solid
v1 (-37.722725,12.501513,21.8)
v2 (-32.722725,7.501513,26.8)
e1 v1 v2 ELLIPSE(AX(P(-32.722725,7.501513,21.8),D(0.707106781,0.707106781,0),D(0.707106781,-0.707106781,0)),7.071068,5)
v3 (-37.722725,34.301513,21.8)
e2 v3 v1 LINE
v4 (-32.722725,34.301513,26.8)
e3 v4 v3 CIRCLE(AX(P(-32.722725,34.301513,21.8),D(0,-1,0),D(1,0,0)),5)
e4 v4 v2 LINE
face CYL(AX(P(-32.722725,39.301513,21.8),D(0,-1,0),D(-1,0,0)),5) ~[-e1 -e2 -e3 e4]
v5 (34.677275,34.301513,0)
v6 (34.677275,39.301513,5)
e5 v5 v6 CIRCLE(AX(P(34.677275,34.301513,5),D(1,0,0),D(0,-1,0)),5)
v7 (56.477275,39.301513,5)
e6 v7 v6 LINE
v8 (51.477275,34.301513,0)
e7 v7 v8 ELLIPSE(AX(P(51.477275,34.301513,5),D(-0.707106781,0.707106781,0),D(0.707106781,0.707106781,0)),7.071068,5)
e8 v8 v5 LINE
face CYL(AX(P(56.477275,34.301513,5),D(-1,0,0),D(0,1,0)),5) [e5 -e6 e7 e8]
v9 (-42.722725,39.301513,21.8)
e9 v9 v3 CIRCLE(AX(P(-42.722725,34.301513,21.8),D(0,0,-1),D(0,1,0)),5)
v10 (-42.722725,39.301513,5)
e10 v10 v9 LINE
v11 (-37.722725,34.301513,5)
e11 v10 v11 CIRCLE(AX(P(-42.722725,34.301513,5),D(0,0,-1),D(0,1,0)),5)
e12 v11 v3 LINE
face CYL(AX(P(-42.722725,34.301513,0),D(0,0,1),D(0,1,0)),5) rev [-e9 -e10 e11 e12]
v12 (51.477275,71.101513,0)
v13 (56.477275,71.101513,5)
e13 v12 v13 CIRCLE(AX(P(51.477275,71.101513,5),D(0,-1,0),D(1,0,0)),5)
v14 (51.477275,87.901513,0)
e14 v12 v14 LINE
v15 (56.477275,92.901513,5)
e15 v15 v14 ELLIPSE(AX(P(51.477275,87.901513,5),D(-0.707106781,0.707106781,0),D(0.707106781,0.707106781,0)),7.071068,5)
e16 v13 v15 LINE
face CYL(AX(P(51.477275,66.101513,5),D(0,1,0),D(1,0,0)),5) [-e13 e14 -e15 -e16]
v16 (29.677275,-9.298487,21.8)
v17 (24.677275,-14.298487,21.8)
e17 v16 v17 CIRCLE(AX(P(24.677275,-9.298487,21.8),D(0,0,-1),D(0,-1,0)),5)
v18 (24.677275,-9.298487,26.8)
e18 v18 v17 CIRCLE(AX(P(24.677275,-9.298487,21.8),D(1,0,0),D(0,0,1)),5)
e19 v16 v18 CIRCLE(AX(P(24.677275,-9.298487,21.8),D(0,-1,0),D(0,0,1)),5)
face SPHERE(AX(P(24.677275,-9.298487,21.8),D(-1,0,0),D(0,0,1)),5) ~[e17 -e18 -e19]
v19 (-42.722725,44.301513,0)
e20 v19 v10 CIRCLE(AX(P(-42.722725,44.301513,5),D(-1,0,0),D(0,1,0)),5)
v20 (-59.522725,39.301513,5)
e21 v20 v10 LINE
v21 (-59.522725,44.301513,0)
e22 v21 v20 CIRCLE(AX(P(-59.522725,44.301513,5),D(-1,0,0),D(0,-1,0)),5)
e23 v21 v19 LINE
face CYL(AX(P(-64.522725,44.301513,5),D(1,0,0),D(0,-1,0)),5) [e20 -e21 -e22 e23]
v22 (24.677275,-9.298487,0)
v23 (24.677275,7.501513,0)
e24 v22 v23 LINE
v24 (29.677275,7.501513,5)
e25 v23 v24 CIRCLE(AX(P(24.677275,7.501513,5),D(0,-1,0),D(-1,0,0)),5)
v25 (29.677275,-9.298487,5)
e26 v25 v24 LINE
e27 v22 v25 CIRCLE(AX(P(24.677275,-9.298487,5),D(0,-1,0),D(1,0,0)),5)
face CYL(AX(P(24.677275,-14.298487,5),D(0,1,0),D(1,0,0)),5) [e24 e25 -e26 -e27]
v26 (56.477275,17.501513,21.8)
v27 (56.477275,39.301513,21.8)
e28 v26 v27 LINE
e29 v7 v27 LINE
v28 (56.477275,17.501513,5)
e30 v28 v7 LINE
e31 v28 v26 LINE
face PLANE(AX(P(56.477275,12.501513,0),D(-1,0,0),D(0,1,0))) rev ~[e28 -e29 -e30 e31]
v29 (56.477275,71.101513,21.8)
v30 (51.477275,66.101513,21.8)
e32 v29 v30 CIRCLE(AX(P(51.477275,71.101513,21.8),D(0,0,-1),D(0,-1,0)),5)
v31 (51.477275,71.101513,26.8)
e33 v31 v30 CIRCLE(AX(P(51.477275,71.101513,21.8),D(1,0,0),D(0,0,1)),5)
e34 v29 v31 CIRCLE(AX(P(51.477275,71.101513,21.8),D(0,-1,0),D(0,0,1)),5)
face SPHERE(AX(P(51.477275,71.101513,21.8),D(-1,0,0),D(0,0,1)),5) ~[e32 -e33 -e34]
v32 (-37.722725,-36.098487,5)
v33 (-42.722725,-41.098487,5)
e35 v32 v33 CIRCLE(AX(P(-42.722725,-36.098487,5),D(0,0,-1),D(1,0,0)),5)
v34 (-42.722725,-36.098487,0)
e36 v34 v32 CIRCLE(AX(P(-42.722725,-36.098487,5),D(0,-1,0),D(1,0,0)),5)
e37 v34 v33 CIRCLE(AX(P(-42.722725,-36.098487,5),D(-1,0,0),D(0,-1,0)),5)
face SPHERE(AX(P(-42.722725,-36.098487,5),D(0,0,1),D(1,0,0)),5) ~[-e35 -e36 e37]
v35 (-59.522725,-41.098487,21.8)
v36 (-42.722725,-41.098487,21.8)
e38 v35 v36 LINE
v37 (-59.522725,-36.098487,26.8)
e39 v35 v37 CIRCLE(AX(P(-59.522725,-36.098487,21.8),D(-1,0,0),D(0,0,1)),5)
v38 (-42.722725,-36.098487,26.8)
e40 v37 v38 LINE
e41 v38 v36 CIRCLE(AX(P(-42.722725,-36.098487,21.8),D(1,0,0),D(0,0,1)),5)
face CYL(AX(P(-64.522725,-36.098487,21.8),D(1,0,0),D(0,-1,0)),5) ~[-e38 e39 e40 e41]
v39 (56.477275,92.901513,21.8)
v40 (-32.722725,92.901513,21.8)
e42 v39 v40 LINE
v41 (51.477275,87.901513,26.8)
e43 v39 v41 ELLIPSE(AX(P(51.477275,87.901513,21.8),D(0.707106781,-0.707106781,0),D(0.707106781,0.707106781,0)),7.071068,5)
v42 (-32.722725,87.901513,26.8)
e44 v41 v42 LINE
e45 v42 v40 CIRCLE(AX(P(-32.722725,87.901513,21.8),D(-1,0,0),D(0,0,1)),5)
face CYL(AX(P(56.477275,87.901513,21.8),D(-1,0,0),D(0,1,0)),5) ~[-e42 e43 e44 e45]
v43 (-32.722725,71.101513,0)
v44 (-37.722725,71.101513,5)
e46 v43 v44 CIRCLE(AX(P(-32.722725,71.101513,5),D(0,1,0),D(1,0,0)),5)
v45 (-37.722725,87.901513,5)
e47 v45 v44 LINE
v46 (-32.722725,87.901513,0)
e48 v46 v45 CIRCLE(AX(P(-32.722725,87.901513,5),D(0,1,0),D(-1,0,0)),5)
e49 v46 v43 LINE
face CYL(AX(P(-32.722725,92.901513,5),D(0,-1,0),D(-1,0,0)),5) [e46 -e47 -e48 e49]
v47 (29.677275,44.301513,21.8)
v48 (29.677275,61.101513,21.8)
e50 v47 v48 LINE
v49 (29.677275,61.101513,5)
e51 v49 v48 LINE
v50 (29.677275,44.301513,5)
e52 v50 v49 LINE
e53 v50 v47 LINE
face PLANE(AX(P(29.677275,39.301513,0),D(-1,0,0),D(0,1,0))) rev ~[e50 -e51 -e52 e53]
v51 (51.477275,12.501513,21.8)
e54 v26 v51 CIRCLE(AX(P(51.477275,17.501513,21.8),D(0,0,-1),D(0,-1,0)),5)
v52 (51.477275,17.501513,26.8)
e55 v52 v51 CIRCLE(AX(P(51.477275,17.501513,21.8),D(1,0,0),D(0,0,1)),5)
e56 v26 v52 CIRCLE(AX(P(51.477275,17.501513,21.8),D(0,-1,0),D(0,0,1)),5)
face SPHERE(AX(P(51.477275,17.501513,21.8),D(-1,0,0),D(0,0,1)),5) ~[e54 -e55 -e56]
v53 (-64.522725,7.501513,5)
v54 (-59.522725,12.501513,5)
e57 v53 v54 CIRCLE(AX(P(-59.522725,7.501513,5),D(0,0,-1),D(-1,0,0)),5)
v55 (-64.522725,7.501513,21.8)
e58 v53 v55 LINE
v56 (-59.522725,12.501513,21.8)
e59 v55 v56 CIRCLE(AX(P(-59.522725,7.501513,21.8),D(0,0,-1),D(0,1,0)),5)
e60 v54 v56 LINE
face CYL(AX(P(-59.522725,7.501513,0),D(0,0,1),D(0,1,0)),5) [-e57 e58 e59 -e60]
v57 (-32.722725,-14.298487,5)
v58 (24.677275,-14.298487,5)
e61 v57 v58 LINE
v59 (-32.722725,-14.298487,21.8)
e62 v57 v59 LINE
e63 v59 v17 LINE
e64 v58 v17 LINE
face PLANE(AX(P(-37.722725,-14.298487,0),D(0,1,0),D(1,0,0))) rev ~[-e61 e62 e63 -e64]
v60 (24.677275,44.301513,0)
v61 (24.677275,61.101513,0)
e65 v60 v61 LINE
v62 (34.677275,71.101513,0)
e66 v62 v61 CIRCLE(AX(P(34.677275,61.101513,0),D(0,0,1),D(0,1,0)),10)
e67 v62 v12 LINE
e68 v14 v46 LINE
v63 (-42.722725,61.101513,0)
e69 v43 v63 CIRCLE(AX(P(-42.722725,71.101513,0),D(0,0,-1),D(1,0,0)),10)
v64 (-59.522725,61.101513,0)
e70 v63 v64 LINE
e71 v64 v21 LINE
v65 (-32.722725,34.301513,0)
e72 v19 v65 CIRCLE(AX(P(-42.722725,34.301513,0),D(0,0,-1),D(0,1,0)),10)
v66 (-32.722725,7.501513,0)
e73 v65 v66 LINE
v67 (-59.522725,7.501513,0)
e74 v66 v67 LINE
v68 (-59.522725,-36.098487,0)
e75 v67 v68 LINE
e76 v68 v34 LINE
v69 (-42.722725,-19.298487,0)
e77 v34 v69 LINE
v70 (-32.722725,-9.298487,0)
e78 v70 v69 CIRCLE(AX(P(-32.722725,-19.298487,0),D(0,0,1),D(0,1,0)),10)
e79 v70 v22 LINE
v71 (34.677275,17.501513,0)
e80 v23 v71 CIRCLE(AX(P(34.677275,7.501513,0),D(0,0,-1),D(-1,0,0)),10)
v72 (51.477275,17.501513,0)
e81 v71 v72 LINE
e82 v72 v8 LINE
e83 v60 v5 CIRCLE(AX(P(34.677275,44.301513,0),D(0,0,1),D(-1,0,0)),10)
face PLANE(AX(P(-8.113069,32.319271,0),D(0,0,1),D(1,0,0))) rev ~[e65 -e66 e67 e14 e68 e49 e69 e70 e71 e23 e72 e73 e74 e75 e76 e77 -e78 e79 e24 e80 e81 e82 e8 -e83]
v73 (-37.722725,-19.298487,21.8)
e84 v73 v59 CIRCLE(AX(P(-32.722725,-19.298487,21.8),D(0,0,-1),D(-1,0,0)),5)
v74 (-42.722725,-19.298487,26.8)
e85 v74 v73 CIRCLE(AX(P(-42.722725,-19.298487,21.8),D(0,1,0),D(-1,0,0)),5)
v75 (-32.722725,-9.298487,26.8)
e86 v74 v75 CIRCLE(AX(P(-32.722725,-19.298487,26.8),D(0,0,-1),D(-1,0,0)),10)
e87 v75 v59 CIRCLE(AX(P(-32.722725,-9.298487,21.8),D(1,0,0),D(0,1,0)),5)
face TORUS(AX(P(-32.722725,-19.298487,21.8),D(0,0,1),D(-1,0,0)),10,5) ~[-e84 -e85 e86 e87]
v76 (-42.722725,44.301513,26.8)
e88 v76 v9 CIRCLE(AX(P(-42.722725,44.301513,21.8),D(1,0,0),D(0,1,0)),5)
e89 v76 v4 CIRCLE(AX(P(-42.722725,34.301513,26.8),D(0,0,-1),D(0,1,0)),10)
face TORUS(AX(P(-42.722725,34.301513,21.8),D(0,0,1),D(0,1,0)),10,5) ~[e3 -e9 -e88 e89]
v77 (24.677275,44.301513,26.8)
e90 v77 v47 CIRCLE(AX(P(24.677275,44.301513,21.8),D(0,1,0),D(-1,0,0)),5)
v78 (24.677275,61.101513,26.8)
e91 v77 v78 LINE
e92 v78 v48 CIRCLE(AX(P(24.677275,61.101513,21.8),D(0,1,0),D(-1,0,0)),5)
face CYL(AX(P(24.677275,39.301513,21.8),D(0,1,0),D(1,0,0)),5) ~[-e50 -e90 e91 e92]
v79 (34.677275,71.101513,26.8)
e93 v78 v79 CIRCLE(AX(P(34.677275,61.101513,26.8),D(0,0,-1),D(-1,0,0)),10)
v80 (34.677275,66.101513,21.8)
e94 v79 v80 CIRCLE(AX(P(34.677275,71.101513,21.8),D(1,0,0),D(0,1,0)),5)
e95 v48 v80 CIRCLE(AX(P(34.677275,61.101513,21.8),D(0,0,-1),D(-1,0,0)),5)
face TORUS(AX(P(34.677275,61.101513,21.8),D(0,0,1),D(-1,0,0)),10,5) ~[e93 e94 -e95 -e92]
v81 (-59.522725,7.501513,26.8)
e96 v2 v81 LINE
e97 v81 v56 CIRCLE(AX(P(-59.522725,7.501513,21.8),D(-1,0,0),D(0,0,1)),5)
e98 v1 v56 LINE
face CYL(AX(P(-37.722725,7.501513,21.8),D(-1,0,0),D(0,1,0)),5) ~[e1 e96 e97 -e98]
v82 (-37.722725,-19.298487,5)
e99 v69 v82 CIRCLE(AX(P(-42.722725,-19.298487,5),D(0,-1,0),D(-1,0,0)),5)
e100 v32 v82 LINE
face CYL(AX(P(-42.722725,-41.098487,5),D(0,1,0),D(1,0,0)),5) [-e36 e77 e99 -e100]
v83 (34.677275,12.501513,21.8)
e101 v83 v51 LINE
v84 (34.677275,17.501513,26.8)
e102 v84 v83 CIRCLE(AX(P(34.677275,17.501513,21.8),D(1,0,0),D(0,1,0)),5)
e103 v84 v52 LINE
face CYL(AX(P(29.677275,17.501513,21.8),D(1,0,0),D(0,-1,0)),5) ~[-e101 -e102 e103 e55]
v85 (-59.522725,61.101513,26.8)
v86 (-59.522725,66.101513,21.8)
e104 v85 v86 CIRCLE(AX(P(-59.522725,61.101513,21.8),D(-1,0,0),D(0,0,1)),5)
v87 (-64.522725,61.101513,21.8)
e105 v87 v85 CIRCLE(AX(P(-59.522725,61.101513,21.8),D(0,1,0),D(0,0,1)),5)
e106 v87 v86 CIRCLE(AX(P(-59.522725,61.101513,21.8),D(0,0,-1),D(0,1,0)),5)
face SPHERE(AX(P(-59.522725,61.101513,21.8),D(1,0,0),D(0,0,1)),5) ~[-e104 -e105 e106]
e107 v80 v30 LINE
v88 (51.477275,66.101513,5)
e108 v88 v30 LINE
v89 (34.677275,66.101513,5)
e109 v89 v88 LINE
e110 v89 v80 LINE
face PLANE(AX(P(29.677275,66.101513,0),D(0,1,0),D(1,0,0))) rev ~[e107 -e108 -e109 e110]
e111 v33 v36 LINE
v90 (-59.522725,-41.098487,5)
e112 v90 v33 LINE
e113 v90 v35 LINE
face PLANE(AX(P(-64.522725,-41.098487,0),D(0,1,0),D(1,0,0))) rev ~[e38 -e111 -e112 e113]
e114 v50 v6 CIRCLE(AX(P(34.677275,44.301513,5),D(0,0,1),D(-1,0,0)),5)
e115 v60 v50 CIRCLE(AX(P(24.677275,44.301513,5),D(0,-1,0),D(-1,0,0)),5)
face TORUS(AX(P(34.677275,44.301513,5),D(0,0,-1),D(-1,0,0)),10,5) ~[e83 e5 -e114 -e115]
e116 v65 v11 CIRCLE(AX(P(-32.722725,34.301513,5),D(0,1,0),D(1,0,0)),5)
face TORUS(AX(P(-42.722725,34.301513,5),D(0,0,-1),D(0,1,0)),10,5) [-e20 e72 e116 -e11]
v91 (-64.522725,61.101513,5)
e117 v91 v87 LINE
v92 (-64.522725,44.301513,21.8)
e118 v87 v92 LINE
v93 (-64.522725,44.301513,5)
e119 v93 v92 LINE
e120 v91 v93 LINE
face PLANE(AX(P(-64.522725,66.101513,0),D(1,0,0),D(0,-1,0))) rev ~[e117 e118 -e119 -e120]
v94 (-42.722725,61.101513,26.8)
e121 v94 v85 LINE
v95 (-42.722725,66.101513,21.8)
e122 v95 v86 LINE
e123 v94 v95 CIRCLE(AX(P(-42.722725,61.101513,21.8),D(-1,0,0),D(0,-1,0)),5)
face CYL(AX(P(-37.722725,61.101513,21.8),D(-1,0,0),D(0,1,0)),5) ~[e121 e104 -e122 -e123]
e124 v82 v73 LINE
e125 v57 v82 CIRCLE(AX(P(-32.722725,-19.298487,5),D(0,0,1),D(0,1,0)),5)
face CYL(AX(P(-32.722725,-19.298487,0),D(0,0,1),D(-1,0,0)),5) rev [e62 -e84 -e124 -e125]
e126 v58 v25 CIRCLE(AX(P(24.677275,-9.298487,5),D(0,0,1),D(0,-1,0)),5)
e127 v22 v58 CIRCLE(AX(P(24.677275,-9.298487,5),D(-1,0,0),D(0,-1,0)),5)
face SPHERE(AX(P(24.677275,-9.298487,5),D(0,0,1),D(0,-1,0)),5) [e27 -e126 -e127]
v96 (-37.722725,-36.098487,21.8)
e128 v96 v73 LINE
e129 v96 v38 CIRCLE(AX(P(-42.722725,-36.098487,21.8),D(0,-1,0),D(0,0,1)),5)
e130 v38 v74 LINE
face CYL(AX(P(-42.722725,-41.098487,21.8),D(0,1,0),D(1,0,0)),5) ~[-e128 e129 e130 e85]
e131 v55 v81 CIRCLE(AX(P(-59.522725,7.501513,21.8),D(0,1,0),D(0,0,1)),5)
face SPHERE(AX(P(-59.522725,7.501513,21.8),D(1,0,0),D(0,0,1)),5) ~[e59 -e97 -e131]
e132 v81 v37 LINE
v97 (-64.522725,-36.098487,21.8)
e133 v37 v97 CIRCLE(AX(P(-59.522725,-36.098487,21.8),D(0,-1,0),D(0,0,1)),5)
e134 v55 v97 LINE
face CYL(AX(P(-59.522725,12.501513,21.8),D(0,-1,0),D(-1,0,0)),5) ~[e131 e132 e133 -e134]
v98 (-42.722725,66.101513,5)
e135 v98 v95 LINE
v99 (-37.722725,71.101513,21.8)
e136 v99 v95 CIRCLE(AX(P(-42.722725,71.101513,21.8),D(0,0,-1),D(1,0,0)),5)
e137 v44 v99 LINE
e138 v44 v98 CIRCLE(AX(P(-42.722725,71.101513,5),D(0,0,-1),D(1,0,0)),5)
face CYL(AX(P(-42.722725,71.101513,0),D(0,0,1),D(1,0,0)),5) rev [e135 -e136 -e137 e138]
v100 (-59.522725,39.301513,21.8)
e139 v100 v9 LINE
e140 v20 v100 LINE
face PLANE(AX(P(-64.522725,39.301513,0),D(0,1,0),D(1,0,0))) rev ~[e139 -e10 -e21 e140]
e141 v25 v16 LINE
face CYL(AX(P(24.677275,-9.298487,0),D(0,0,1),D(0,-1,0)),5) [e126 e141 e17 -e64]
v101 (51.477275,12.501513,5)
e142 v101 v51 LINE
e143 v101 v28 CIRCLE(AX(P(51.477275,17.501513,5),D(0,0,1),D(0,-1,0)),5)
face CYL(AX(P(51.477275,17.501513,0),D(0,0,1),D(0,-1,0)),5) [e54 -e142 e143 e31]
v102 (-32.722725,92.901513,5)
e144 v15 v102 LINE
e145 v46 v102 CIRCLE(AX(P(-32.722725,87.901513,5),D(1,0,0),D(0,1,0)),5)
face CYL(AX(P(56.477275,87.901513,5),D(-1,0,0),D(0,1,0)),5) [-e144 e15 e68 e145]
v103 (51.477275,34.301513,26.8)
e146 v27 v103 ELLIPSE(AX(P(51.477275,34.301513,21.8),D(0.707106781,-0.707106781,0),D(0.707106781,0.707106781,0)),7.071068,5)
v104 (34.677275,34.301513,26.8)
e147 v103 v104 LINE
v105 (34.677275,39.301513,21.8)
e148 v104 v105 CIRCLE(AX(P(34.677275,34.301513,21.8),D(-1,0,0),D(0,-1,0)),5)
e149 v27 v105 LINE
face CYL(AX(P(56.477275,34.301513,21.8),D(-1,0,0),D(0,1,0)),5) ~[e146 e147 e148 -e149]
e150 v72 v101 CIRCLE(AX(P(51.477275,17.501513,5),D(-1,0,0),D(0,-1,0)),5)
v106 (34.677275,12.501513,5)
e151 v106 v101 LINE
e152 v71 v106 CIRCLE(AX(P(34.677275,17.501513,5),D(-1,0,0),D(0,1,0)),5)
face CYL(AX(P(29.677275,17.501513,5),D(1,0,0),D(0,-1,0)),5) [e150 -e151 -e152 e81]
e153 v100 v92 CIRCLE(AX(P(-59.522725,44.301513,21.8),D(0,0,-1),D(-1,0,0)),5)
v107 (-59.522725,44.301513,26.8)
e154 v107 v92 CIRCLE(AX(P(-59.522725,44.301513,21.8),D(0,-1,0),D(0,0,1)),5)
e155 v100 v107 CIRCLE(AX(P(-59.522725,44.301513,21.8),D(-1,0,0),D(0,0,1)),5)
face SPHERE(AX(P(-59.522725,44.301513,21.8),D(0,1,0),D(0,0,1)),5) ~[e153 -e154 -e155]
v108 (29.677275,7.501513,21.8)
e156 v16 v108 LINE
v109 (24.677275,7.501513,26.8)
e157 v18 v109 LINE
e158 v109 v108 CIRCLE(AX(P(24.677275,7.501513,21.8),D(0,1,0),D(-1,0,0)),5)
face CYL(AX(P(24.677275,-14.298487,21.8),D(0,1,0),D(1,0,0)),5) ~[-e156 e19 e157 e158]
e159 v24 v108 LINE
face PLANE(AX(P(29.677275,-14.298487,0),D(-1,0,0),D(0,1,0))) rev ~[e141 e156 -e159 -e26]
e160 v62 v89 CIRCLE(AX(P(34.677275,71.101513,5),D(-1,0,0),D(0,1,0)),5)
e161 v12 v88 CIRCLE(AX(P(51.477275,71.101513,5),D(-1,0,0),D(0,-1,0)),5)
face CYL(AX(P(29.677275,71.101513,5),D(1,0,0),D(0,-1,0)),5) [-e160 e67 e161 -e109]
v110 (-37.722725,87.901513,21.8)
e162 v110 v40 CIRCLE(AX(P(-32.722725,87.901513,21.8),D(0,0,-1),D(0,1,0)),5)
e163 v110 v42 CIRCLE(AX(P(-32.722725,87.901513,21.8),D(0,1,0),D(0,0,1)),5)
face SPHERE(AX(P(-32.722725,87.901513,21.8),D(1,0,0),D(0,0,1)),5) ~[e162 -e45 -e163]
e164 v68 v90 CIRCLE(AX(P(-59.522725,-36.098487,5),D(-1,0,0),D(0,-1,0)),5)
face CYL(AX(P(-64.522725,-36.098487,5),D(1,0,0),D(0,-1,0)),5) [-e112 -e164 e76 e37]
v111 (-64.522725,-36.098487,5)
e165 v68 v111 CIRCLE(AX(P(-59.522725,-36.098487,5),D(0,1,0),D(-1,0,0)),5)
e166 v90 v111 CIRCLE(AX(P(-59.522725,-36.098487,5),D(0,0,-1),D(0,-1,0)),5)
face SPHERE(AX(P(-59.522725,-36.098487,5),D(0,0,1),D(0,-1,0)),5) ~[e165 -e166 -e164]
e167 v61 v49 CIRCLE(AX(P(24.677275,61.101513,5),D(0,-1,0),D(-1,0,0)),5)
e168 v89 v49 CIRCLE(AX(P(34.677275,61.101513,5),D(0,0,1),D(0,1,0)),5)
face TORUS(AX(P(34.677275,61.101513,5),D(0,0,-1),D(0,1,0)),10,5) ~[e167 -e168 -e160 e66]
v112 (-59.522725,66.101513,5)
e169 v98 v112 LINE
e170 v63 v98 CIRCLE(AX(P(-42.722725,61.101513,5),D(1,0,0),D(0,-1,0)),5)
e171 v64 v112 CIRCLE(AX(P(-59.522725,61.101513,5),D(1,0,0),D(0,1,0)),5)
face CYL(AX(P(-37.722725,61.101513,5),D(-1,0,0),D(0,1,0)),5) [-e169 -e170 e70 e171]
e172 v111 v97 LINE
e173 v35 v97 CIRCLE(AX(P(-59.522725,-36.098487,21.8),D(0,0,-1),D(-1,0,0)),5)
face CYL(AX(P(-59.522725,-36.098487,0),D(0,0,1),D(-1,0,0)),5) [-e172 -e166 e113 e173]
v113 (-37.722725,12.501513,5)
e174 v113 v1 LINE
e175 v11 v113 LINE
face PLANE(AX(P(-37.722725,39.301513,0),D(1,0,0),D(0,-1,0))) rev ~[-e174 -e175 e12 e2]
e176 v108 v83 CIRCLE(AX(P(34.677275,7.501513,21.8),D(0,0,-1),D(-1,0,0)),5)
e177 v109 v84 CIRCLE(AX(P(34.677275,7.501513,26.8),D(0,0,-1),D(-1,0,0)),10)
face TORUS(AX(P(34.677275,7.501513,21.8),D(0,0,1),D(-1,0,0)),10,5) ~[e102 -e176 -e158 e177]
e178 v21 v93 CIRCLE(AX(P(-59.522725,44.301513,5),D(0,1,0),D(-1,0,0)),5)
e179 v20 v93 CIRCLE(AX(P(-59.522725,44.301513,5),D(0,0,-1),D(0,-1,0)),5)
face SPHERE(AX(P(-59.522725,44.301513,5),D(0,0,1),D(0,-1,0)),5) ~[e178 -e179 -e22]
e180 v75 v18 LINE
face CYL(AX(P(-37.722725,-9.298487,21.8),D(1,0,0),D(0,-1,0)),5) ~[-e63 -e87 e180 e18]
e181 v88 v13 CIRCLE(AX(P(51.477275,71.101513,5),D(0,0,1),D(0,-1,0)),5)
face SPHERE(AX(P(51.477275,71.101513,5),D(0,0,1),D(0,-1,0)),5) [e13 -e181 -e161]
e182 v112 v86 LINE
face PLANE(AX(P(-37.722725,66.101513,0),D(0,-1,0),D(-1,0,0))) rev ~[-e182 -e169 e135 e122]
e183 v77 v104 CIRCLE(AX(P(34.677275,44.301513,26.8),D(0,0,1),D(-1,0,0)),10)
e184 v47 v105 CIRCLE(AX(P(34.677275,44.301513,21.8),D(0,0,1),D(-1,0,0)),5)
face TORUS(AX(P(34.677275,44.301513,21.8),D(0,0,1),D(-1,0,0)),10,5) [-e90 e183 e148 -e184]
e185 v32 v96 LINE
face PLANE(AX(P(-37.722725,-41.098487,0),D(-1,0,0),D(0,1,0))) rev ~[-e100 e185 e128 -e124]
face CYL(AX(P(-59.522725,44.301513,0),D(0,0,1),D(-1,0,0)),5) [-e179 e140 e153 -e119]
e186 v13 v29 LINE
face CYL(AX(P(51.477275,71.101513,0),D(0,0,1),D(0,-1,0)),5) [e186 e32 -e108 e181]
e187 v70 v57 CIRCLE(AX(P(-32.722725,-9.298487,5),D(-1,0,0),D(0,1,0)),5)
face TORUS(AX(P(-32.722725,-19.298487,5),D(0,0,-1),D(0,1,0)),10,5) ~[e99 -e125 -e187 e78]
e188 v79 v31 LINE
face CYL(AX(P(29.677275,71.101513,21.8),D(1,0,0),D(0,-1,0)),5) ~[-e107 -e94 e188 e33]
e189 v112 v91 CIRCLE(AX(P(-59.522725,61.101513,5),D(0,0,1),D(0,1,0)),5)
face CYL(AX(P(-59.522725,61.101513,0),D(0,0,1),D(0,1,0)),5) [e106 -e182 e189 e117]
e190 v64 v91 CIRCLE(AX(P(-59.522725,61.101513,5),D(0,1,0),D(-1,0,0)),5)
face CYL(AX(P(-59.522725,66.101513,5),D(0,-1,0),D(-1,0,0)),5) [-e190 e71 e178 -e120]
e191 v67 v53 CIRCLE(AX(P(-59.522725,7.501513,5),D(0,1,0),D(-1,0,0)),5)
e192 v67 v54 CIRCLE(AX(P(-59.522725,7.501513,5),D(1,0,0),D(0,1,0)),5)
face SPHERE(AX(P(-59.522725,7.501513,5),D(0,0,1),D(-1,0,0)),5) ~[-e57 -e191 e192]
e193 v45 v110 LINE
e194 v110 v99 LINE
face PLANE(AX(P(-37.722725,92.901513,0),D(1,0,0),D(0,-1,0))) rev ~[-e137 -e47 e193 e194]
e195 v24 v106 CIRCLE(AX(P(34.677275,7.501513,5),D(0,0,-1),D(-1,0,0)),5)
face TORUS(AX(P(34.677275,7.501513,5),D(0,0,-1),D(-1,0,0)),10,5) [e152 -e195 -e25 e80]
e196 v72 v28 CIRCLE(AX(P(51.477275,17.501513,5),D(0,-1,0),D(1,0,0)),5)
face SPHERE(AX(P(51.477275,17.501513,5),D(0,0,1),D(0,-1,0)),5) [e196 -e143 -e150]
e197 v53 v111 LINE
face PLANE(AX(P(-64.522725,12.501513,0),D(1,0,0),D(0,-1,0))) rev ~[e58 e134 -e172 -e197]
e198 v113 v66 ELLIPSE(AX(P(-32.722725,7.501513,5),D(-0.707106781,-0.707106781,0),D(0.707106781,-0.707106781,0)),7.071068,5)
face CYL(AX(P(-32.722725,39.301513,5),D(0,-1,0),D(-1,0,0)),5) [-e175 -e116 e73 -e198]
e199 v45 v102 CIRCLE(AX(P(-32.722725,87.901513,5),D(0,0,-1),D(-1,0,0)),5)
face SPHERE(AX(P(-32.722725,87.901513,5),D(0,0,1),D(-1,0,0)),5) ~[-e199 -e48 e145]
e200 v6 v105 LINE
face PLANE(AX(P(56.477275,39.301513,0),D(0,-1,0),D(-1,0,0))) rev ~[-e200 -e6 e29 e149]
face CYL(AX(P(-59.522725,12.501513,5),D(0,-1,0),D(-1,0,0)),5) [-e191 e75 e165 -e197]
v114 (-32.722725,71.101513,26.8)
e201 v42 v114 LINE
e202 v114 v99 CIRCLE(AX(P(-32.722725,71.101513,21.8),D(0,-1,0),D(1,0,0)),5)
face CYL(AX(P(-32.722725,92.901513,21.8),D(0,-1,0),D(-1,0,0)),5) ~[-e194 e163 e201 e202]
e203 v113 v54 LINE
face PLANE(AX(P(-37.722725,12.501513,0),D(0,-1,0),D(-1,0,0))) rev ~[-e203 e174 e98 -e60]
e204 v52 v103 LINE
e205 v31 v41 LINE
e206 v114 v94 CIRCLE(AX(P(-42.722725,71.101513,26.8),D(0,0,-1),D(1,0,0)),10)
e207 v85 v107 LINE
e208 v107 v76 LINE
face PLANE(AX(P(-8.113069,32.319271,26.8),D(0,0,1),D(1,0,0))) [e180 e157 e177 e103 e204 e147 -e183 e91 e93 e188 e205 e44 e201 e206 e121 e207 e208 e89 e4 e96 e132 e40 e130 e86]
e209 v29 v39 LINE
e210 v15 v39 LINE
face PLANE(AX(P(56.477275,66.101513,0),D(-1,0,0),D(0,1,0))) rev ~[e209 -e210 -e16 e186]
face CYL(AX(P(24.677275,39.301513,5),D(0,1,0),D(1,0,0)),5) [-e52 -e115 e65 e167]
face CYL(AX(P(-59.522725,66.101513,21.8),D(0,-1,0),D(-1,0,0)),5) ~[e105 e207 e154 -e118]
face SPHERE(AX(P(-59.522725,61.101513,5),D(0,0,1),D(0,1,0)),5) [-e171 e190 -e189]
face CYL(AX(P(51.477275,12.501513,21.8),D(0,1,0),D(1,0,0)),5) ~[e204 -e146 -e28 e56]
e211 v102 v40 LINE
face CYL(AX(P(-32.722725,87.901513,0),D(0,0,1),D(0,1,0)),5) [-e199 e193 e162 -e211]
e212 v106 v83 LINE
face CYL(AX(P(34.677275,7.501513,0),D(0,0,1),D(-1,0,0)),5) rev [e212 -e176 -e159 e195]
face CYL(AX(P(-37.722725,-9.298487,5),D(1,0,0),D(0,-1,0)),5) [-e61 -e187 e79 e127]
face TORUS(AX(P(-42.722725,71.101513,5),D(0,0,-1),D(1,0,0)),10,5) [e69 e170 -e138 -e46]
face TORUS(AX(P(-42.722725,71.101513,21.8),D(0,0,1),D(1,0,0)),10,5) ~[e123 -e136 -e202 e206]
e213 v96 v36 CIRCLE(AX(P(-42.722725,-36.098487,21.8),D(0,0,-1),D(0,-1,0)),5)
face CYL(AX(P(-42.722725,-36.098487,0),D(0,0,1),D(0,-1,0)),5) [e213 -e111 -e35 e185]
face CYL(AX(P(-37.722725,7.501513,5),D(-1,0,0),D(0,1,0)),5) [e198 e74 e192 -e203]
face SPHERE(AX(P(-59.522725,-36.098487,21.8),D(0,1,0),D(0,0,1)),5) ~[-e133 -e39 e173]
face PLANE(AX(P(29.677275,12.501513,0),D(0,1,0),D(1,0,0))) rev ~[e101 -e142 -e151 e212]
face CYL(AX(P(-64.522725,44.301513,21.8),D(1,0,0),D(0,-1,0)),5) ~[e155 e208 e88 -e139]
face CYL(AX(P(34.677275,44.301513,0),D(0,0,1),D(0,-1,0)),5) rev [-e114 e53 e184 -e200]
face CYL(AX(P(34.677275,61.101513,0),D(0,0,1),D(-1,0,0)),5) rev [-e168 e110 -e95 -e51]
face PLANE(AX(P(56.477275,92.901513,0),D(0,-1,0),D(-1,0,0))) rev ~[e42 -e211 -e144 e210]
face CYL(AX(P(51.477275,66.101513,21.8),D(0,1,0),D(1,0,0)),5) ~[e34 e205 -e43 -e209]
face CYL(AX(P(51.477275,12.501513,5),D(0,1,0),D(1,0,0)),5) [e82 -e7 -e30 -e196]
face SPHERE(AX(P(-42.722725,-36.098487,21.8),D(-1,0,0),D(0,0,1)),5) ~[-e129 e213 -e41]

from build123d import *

# Parameters (mm, degrees)
F1_DEPTH = 26.8
F2_R     = 5


with BuildPart() as f1:
    # F0 (on Top) → F1 (new body)
    with BuildSketch(Plane.XY):
        Polygon((56.4772747457, 92.9015133679), (-37.7227252543, 92.9015133679), (-37.7227252543, 66.1015133679), (-64.5227252543, 66.1015133679), (-64.5227252543, 39.3015133679), (-37.7227252543, 39.3015133679), (-37.7227252543, 12.5015133679), (-64.5227252543, 12.5015133679), (-64.5227252543, -41.0984866321), (-37.7227252543, -41.0984866321), (-37.7227252543, -14.2984866321), (29.6772747457, -14.2984866321), (29.6772747457, 12.5015133679), (56.4772747457, 12.5015133679), (56.4772747457, 39.3015133679), (29.6772747457, 39.3015133679), (29.6772747457, 66.1015133679), (56.4772747457, 66.1015133679), align=None)
    extrude(amount=F1_DEPTH)

    # F2
    f2_edges = [f1.edges().sort_by_distance(p)[0] for p in [
        (29.677275, 52.701513, 26.8),
        (43.077275, 66.101513, 26.8),
        (56.477275, 79.501513, 26.8),
        (9.377275, 92.901513, 26.8),
        (-37.722725, 79.501513, 26.8),
        (-51.122725, 66.101513, 26.8),
        (-64.522725, 52.701513, 26.8),
        (-51.122725, 39.301513, 26.8),
        (-37.722725, 25.901513, 26.8),
        (-51.122725, 12.501513, 26.8),
        (-64.522725, -14.298487, 26.8),
        (-51.122725, -41.098487, 26.8),
        (-37.722725, -27.698487, 26.8),
        (-4.022725, -14.298487, 26.8),
        (29.677275, -0.898487, 26.8),
        (43.077275, 12.501513, 26.8),
        (56.477275, 25.901513, 26.8),
        (43.077275, 39.301513, 26.8),
        (-37.722725, -14.298487, 13.4),
        (29.677275, -14.298487, 13.4),
        (-4.022725, -14.298487, 0),
        (-37.722725, -41.098487, 13.4),
        (-37.722725, -27.698487, 0),
        (-64.522725, -41.098487, 13.4),
        (-51.122725, -41.098487, 0),
        (29.677275, 12.501513, 13.4),
        (29.677275, -0.898487, 0),
        (56.477275, 12.501513, 13.4),
        (43.077275, 12.501513, 0),
        (29.677275, 66.101513, 13.4),
        (56.477275, 66.101513, 13.4),
        (43.077275, 66.101513, 0),
        (29.677275, 39.301513, 13.4),
        (29.677275, 52.701513, 0),
        (-64.522725, 12.501513, 13.4),
        (-64.522725, -14.298487, 0),
        (-64.522725, 39.301513, 13.4),
        (-37.722725, 39.301513, 13.4),
        (-51.122725, 39.301513, 0),
        (-64.522725, 66.101513, 13.4),
        (-37.722725, 92.901513, 13.4),
        (-37.722725, 66.101513, 13.4),
        (-37.722725, 79.501513, 0),
        (56.477275, 79.501513, 0),
        (9.377275, 92.901513, 0),
        (-51.122725, 66.101513, 0),
        (-64.522725, 52.701513, 0),
        (-37.722725, 25.901513, 0),
        (-51.122725, 12.501513, 0),
        (56.477275, 25.901513, 0),
        (43.077275, 39.301513, 0),
    ]]
    fillet(f2_edges, radius=F2_R)


solid = f1.part
